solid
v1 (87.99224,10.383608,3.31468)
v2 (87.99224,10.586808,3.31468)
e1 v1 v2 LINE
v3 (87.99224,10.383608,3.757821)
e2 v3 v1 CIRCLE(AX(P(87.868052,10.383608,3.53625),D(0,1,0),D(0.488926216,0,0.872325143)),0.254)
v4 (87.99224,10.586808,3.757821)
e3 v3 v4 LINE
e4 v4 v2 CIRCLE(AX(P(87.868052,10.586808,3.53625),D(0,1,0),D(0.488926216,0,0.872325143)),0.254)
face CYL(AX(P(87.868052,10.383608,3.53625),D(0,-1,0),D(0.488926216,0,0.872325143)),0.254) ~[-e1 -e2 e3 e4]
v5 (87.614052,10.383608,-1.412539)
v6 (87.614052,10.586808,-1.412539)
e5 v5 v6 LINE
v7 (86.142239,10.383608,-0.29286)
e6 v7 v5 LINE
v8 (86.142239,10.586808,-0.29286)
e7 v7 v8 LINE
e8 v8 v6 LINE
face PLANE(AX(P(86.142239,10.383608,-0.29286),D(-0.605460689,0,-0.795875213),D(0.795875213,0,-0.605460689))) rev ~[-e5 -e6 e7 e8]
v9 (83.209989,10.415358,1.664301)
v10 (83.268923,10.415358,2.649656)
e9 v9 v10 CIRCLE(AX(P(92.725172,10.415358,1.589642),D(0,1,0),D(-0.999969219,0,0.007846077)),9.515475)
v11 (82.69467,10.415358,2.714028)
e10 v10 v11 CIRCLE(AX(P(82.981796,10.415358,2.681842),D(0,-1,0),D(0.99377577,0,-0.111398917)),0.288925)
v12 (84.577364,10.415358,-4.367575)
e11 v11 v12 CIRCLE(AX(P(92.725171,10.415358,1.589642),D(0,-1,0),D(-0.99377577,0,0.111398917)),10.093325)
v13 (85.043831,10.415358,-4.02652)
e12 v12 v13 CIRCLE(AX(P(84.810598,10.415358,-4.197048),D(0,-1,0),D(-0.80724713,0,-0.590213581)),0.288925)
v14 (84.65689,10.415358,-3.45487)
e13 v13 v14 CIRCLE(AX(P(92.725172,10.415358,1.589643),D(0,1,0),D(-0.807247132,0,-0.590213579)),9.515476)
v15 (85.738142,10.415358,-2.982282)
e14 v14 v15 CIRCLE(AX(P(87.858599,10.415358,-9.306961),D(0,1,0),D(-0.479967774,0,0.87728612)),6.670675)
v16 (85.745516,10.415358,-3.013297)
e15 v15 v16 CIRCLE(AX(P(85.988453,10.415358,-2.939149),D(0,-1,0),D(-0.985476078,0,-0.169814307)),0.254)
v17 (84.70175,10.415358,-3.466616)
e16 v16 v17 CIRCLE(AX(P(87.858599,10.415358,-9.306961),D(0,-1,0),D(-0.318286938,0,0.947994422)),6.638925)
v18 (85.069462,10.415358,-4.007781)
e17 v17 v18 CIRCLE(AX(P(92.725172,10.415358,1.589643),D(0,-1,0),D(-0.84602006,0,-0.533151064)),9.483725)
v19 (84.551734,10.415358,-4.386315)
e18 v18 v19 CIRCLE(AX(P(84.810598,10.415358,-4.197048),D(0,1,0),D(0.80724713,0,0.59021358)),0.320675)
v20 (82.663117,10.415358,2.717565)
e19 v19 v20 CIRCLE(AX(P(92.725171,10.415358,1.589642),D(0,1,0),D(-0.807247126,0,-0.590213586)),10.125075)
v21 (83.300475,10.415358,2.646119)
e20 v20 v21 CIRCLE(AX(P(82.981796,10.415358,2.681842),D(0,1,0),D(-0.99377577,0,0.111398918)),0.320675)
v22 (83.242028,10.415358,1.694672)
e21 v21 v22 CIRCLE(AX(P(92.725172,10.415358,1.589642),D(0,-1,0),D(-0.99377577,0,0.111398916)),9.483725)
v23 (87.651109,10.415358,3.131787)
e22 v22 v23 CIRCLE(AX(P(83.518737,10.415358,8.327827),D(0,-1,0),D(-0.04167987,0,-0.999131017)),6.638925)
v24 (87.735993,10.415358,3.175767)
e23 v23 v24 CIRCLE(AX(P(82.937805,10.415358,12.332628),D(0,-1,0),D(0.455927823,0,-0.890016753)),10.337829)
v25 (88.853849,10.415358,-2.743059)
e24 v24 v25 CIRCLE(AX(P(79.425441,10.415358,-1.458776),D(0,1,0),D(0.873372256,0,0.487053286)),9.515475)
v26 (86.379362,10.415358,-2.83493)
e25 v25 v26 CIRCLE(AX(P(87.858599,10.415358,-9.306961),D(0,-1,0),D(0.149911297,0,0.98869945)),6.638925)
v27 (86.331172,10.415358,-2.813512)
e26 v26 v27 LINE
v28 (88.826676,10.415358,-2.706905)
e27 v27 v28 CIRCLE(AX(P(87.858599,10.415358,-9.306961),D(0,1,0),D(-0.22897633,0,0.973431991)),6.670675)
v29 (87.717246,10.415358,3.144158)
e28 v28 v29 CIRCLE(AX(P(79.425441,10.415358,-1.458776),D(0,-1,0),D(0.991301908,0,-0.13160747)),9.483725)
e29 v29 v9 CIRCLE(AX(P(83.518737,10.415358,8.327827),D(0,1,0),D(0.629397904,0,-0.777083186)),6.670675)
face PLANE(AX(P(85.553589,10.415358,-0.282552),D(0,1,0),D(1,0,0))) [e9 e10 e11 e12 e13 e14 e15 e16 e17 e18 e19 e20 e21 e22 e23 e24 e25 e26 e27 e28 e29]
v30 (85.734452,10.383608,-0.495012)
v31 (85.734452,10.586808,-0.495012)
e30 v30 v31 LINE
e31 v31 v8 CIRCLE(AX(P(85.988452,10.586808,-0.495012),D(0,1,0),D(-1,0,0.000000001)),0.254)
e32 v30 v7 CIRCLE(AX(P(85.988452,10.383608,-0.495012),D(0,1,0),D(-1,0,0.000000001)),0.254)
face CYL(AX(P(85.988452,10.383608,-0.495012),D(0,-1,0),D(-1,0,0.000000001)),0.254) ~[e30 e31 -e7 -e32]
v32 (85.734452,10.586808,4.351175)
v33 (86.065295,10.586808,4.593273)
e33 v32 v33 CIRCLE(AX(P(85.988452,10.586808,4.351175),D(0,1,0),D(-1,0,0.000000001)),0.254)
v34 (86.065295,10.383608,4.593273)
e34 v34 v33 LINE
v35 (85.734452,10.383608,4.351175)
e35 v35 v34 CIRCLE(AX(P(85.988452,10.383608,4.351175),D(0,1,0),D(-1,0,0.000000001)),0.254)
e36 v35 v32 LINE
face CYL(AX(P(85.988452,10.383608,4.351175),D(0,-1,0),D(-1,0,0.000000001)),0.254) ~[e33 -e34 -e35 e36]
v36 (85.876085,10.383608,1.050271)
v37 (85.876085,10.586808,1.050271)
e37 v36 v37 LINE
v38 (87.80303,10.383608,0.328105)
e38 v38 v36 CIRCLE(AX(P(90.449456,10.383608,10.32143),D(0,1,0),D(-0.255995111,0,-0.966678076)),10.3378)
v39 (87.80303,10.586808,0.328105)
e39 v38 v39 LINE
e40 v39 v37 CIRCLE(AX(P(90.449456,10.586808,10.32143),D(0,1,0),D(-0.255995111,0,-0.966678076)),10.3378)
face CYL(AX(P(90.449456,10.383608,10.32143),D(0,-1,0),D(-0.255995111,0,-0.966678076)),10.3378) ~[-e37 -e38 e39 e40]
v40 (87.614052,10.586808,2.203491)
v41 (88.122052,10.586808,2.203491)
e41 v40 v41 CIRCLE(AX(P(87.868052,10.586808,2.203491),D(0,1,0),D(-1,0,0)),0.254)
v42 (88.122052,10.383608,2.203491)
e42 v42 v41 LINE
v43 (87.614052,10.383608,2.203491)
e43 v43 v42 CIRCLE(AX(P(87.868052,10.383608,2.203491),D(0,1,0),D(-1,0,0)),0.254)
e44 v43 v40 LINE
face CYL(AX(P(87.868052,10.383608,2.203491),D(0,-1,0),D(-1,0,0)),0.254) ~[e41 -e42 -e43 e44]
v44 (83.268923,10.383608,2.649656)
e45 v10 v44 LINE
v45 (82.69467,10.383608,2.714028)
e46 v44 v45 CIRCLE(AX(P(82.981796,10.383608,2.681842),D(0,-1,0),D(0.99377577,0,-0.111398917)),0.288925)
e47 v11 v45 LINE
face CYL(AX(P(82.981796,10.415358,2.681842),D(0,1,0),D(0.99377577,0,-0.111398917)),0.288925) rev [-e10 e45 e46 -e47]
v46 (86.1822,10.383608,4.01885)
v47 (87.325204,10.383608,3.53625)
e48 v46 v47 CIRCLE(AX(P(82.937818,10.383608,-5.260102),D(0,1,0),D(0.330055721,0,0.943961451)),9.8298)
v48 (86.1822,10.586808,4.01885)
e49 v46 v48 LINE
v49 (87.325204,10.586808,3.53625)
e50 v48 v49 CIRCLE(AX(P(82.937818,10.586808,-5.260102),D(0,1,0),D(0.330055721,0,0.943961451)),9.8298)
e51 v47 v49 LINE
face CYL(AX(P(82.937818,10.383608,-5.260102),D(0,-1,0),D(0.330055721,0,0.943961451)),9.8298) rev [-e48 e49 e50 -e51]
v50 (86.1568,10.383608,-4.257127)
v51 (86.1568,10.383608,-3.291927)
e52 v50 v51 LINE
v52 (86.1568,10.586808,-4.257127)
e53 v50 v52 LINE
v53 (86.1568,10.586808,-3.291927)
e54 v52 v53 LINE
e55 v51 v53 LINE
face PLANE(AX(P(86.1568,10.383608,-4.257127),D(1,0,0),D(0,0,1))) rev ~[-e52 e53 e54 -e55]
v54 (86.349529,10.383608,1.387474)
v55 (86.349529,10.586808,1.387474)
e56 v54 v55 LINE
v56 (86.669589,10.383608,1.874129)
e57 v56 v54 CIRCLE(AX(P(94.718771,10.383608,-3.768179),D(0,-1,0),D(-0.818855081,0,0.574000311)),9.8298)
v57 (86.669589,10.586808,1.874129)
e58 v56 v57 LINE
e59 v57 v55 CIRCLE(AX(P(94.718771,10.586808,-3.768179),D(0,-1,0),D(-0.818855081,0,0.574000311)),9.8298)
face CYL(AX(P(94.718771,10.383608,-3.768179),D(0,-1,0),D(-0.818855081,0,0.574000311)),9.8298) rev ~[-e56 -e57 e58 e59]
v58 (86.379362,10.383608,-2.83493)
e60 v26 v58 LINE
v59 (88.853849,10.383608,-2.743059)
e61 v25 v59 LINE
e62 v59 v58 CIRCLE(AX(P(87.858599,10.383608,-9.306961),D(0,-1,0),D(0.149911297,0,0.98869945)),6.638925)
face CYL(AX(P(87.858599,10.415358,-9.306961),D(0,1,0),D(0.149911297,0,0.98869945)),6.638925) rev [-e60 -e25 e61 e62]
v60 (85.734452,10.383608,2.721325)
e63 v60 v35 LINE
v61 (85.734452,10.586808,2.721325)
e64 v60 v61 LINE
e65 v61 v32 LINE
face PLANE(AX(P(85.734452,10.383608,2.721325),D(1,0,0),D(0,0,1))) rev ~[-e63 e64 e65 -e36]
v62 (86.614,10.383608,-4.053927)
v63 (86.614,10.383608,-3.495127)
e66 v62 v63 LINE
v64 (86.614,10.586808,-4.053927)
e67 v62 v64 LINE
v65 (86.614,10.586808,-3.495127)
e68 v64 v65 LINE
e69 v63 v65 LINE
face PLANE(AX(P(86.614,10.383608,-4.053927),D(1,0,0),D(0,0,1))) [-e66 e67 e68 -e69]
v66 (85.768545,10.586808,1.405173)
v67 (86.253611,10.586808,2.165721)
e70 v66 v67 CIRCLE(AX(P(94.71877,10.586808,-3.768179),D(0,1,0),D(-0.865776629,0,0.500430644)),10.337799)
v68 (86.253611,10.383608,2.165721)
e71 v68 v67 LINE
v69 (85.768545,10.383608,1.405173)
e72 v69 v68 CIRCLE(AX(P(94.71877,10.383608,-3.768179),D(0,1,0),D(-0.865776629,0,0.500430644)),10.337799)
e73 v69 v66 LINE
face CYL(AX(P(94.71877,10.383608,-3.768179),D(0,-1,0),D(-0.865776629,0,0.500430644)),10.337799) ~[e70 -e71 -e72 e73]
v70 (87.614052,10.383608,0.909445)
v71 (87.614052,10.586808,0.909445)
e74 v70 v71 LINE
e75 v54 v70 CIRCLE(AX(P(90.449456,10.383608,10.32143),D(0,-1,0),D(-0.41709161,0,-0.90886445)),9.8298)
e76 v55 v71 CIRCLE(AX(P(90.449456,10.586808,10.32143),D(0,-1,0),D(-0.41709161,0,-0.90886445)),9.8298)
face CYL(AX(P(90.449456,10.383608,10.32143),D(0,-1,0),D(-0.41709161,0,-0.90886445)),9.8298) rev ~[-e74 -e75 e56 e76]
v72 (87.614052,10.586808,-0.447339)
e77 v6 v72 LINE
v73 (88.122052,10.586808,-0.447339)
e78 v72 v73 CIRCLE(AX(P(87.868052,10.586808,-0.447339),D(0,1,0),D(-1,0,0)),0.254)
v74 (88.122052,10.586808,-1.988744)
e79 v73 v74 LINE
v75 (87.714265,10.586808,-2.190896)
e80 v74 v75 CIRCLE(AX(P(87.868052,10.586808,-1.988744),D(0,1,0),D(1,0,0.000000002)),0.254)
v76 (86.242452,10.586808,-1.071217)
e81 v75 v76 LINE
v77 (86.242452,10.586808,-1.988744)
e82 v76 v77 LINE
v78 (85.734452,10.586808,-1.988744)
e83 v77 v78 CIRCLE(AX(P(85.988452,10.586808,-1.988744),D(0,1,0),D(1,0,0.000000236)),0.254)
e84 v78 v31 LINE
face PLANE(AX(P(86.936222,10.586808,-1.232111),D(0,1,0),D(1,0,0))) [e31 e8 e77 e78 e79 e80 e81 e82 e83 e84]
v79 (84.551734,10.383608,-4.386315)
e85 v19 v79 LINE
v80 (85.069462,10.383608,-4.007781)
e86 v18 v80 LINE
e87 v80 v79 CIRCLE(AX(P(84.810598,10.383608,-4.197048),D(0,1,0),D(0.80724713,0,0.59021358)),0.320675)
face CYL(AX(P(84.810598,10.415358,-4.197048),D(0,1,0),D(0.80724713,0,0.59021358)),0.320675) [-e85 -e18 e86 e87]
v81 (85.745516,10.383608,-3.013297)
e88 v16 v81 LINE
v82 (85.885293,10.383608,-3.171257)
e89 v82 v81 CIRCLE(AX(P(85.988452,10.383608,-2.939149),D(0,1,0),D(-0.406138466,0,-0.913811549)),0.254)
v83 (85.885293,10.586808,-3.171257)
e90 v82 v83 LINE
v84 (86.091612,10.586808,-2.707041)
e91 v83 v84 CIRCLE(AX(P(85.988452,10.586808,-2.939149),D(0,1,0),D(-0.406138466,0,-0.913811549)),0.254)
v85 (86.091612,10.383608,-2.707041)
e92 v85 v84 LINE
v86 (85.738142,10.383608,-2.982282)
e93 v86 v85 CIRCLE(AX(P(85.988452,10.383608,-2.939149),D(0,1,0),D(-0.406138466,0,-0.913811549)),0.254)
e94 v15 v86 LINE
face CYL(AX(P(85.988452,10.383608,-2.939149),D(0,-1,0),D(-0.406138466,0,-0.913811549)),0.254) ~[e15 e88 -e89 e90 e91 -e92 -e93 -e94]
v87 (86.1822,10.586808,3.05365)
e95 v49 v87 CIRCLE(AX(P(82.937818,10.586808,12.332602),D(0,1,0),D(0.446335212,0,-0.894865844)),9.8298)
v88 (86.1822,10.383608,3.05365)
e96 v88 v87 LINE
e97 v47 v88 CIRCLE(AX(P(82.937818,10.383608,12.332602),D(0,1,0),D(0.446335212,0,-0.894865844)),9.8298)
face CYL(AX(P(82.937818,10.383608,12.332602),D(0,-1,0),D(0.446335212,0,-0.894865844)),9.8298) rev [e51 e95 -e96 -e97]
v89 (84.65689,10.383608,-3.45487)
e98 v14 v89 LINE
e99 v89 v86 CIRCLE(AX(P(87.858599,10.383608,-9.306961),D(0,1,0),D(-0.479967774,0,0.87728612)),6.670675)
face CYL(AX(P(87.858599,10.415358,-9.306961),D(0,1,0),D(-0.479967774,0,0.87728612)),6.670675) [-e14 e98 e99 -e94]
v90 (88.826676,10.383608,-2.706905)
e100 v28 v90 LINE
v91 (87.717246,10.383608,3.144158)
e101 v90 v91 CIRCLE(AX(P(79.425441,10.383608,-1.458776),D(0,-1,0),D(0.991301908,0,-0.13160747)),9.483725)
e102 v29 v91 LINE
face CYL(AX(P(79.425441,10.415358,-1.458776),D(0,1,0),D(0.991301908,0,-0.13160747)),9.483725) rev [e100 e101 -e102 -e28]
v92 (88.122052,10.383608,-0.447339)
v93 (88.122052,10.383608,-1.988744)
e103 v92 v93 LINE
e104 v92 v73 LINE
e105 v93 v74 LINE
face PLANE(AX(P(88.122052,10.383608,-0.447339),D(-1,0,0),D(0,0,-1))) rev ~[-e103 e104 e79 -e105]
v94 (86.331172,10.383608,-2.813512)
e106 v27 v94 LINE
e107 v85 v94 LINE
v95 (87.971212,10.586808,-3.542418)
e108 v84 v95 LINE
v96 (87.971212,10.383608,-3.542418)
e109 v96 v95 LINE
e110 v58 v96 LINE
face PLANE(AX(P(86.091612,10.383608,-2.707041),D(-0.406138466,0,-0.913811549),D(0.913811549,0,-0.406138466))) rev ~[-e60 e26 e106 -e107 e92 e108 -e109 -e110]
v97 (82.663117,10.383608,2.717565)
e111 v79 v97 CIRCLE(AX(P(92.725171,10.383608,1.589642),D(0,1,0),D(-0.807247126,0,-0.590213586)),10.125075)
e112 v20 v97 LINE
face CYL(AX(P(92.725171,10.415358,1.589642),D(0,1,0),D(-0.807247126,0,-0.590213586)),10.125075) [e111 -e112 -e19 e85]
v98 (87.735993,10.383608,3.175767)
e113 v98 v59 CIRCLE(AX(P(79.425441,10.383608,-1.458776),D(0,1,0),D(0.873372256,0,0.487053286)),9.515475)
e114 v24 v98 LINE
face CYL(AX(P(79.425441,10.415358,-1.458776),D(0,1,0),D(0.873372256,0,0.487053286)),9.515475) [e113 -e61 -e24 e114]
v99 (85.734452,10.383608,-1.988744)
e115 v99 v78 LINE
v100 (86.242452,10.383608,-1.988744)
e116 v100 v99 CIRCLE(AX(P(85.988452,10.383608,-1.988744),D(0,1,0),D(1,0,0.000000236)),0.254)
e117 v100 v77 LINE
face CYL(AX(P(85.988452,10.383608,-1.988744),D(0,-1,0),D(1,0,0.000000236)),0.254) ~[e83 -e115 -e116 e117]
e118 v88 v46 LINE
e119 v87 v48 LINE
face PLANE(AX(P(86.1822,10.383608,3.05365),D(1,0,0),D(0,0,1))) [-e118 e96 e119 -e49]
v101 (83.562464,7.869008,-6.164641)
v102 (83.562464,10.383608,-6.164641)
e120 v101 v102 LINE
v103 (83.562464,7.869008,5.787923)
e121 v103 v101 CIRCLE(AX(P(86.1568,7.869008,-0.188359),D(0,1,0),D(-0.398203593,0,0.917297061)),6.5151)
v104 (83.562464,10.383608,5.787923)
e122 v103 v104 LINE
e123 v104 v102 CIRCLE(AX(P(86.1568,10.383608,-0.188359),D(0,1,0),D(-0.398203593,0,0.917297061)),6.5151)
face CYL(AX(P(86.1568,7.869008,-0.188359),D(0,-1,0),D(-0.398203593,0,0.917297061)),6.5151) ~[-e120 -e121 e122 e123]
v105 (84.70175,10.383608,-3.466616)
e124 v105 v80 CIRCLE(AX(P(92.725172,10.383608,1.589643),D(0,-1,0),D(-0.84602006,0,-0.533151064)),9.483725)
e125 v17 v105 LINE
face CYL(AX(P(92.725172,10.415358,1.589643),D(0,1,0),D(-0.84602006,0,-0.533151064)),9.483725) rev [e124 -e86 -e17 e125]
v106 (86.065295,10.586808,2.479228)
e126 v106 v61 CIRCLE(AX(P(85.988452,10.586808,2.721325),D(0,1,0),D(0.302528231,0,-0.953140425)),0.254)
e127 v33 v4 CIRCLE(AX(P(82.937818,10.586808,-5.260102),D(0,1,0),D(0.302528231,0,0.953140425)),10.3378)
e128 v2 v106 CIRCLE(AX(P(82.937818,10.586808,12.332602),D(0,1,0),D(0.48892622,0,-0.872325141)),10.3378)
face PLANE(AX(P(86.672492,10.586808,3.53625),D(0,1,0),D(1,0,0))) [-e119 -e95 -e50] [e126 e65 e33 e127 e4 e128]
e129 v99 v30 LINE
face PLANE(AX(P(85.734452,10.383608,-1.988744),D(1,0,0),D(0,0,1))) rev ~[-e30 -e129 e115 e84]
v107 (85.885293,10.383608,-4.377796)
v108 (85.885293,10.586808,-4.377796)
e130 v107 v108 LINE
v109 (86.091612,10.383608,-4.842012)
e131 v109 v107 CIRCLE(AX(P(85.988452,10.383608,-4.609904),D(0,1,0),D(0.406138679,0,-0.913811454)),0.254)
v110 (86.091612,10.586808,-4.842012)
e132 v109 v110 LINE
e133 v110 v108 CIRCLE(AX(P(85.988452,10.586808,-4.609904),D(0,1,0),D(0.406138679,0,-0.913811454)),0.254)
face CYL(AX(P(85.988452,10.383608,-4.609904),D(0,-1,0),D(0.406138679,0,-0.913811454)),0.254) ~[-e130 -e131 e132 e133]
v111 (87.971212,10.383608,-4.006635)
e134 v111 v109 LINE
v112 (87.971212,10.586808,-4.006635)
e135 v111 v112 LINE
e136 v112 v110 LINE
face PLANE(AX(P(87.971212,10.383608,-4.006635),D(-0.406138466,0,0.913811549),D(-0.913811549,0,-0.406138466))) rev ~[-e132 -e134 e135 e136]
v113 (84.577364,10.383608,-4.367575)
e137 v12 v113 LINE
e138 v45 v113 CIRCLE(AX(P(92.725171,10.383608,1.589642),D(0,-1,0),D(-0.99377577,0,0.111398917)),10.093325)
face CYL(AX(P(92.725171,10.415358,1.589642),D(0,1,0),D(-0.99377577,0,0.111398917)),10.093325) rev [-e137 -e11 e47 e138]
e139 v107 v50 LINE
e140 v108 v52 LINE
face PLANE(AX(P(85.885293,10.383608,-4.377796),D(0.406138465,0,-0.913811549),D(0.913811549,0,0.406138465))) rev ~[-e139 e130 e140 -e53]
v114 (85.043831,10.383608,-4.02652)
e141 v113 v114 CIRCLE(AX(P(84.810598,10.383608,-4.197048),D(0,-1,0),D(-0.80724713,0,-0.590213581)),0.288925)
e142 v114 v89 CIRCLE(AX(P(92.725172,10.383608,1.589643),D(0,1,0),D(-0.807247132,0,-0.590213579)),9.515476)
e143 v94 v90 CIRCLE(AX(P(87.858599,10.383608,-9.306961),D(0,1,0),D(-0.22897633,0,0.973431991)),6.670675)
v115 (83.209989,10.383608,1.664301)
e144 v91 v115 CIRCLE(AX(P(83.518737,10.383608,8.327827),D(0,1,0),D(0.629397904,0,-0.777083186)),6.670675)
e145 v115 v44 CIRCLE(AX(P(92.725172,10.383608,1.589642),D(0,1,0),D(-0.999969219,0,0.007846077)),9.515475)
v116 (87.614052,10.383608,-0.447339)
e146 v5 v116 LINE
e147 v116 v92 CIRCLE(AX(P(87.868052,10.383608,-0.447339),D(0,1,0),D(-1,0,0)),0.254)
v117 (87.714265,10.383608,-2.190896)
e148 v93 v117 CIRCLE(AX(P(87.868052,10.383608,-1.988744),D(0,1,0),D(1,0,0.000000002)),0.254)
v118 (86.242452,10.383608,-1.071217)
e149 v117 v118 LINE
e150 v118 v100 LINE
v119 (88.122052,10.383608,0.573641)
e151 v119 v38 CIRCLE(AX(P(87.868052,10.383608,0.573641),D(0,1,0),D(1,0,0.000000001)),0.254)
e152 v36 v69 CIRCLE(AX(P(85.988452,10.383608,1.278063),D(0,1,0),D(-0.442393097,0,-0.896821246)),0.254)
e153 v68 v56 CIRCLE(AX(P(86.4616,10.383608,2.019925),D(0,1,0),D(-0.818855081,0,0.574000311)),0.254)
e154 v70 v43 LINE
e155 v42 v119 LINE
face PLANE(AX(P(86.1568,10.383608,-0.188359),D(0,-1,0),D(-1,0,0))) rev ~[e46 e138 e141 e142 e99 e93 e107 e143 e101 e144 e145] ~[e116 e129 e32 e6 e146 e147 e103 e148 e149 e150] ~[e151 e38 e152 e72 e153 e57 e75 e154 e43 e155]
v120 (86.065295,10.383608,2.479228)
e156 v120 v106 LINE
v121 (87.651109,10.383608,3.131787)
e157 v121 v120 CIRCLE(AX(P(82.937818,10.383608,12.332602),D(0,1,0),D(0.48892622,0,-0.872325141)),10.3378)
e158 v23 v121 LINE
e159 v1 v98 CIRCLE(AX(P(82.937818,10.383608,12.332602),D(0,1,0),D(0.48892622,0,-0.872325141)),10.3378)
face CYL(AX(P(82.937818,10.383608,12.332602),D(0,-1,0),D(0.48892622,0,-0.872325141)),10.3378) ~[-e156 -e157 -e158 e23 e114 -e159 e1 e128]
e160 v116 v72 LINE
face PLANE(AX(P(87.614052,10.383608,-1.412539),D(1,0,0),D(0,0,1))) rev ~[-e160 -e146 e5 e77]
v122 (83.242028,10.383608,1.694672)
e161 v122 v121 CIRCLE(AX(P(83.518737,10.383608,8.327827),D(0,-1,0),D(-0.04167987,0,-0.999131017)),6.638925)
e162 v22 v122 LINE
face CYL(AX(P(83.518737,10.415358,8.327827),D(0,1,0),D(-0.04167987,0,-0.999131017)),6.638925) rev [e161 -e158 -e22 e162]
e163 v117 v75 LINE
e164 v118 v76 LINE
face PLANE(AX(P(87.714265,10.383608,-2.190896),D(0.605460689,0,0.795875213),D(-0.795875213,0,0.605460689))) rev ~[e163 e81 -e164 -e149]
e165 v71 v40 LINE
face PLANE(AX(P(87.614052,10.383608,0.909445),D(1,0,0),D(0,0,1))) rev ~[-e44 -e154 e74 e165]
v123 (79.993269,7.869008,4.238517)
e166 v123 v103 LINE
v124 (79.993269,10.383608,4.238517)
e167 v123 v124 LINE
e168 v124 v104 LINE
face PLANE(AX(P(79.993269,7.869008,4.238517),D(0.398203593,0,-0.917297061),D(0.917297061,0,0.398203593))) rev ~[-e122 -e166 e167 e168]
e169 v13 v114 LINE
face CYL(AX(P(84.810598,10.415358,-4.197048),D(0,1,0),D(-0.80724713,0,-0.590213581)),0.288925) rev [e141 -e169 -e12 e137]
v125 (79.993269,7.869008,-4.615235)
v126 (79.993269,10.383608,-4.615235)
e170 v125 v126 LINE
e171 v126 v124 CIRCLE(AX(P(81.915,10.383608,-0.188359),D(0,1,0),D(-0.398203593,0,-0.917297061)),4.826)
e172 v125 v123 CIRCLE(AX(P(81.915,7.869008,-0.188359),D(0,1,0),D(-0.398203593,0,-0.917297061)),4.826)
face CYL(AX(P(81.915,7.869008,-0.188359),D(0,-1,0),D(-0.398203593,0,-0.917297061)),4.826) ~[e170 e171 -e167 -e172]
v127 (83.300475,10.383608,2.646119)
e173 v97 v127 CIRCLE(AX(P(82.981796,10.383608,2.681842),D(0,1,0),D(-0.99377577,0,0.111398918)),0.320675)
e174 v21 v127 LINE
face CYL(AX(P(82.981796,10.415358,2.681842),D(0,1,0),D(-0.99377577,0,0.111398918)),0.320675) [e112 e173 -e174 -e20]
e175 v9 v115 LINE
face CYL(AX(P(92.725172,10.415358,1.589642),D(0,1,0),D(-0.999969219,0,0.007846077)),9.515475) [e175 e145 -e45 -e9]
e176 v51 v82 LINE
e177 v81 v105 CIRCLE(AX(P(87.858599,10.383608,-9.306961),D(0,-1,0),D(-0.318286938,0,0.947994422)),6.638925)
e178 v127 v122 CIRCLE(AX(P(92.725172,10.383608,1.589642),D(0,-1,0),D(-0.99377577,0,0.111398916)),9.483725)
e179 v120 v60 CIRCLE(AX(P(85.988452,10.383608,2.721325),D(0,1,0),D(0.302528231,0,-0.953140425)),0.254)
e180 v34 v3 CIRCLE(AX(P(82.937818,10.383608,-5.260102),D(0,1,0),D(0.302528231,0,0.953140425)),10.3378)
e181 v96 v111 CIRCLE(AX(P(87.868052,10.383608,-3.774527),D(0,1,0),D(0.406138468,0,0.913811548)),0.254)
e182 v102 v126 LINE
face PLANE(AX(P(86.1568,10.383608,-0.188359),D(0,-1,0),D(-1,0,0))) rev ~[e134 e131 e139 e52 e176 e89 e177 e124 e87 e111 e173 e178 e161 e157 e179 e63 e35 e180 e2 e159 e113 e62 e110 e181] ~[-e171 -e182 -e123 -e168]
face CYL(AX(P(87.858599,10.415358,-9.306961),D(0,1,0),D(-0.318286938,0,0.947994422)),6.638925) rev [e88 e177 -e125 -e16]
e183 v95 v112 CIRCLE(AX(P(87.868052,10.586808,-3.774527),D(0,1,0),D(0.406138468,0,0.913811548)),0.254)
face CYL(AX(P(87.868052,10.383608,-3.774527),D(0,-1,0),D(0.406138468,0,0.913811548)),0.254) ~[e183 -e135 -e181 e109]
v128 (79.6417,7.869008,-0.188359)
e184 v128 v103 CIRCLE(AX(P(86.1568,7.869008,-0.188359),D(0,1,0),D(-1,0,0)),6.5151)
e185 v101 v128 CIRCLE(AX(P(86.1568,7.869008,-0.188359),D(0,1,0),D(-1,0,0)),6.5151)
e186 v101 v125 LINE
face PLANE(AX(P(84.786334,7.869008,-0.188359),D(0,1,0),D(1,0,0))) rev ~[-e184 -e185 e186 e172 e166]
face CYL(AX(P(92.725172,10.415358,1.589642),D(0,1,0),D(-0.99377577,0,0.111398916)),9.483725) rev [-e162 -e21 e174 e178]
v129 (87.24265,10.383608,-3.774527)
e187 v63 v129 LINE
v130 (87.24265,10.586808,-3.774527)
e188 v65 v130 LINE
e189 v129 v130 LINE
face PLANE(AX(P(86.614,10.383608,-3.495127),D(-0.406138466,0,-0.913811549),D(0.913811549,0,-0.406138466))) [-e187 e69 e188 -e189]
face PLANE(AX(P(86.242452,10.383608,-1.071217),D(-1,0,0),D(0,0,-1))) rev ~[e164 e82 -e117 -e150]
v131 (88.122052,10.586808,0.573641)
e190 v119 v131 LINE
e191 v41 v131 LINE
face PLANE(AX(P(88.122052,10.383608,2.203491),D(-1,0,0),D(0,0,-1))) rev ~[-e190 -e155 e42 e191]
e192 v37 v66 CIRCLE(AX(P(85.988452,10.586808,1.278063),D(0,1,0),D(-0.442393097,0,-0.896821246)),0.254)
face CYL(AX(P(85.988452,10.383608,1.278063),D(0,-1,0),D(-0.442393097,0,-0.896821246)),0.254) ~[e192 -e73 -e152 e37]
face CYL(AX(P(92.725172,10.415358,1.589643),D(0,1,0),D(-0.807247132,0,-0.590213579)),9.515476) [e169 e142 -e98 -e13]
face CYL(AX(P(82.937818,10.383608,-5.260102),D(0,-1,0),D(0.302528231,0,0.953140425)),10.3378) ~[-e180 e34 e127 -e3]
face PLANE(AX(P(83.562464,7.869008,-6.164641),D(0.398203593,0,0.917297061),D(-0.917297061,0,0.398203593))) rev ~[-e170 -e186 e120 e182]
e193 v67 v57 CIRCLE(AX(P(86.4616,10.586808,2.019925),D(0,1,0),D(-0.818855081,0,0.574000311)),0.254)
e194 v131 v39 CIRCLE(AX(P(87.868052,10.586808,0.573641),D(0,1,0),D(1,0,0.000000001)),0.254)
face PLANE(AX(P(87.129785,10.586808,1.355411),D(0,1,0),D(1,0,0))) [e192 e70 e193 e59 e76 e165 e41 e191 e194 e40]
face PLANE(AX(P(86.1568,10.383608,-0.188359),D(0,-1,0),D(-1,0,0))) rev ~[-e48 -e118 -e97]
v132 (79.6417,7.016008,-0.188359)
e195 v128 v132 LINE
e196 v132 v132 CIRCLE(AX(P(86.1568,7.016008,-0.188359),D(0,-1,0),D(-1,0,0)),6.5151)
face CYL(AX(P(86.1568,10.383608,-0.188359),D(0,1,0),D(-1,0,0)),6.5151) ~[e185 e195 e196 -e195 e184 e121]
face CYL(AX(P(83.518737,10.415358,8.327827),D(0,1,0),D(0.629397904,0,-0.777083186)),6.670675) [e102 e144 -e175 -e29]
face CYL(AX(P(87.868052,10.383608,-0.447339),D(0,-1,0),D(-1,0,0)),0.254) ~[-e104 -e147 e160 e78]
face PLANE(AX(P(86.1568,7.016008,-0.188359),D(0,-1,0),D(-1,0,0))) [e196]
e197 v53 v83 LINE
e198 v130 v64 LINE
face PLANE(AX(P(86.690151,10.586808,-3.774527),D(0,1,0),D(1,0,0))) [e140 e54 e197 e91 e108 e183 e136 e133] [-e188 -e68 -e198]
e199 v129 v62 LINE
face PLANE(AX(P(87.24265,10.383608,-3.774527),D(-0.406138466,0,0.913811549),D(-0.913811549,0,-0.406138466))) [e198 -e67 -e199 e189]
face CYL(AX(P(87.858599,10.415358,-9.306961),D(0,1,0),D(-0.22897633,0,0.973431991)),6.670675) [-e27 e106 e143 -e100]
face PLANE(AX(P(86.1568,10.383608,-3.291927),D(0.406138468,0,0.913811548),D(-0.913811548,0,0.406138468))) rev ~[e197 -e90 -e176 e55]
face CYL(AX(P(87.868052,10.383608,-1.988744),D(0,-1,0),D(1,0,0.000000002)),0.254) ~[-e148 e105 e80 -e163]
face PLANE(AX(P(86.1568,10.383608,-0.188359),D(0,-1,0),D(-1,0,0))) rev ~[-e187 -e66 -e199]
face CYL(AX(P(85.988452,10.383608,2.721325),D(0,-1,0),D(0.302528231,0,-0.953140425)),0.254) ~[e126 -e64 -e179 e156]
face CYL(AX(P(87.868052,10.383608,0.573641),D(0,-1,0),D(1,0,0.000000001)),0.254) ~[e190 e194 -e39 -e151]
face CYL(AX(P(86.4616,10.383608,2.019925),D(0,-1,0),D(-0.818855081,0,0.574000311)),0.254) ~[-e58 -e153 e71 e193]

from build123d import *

# Parameters (mm, degrees)
SKETCH1_R           = 6.5151
BOSS_EXTRUDE1_DEPTH = 3.3676
BOSS_EXTRUDE2_DEPTH = 2.5146
BOSS_EXTRUDE3_DEPTH = 0.03175
BOSS_EXTRUDE4_DEPTH = 0.2032
BOSS_EXTRUDE5_DEPTH = 0.2032
BOSS_EXTRUDE6_DEPTH = 0.2032
BOSS_EXTRUDE7_DEPTH = 0.2032


with BuildPart() as part:
    # Sketch1 → Boss-Extrude1 (new body)
    with BuildSketch(Plane(origin=(0, 10.383607632, 0), x_dir=(-1, 0, 0), z_dir=(0, -1, 0))):
        with Locations((-86.1568, 0.188358884)):
            Circle(SKETCH1_R)
    extrude(amount=BOSS_EXTRUDE1_DEPTH)

    # Sketch2 → Boss-Extrude2 (add)
    with BuildSketch(Plane(origin=(0, 7.869007632, 0), x_dir=(1, 0, 0), z_dir=(0, 1, 0))):
        with BuildLine():
            Line((83.562463772, 6.164640968), (79.993269461, 4.615234502))
            ThreePointArc((79.993269461, 4.615234502), (77.089, 0.188358884), (79.993269461, -4.238516734))
            Line((79.993269461, -4.238516734), (83.562463772, -5.7879232))
            ThreePointArc((83.562463772, -5.7879232), (92.6719, 0.188358884), (83.562463772, 6.164640968))
        make_face()
    extrude(amount=BOSS_EXTRUDE2_DEPTH)

    # Sketch3 → Boss-Extrude3 (add)
    with BuildSketch(Plane(origin=(0, 10.415357632, 0), x_dir=(1, 0, 0), z_dir=(0, 1, 0))):
        with BuildLine():
            Line((86.379362148, 2.834929745), (86.331172499, 2.813512123))
            ThreePointArc((86.331172499, 2.813512123), (87.57388973, 2.642364143), (88.826675515, 2.706905023))
            ThreePointArc((88.826675515, 2.706905023), (88.743147222, -0.307968876), (87.717246323, -3.144158035))
            ThreePointArc((87.717246323, -3.144158035), (85.599615489, -1.990016157), (83.209989222, -1.664301363))
            ThreePointArc((83.209989222, -1.664301363), (83.226670097, -2.157743319), (83.268922831, -2.649655834))
            ThreePointArc((83.268922831, -2.649655834), (83.013982099, -2.96896843), (82.694669503, -2.714027698))
            ThreePointArc((82.694669503, -2.714027698), (82.970684724, 1.003656964), (84.577363687, 4.367575269))
            ThreePointArc((84.577363687, 4.367575269), (84.981125023, 4.430281687), (85.043831441, 4.026520351))
            ThreePointArc((85.043831441, 4.026520351), (84.845175329, 3.744205128), (84.656890151, 3.45486998))
            ThreePointArc((84.656890151, 3.45486998), (85.187045427, 3.19462014), (85.738141542, 2.982281574))
            ThreePointArc((85.738141542, 2.982281574), (85.741341744, 2.997904944), (85.745516089, 3.013296689))
            ThreePointArc((85.745516089, 3.013296689), (85.213902251, 3.217551458), (84.701749715, 3.466615834))
            ThreePointArc((84.701749715, 3.466615834), (84.880937437, 3.740370401), (85.069461538, 4.00778107))
            ThreePointArc((85.069461538, 4.00778107), (84.999864331, 4.455911764), (84.551733629, 4.386314602))
            ThreePointArc((84.551733629, 4.386314602), (82.940000597, 1.01181459), (82.663117122, -2.717564614))
            ThreePointArc((82.663117122, -2.717564614), (83.017519015, -3.000520811), (83.300475212, -2.646118918))
            ThreePointArc((83.300475212, -2.646118918), (83.259289868, -2.171130031), (83.242027928, -1.694671533))
            ThreePointArc((83.242027928, -1.694671533), (85.576128395, -2.015738406), (87.651108795, -3.131787359))
            ThreePointArc((87.651108795, -3.131787359), (87.69360158, -3.153679255), (87.735992687, -3.175767397))
            ThreePointArc((87.735992687, -3.175767397), (88.775617442, -0.307140697), (88.853849034, 2.743059067))
            ThreePointArc((88.853849034, 2.743059067), (87.612284437, 2.672606475), (86.379362148, 2.834929745))
        make_face()
    extrude(amount=-BOSS_EXTRUDE3_DEPTH)

    # Sketch4 → Boss-Extrude4 (add)
    with BuildSketch(Plane(origin=(0, 10.383607632, 0), x_dir=(1, 0, 0), z_dir=(0, 1, 0))):
        with BuildLine():
            Line((87.971211641, 4.006634675), (86.091611641, 4.842012453))
            ThreePointArc((86.091611641, 4.842012453), (85.756344283, 4.713063514), (85.8852933, 4.377796186))
            Line((85.8852933, 4.377796186), (86.1568, 4.257126542))
            Line((86.1568, 4.257126542), (86.1568, 3.291926542))
            Line((86.1568, 3.291926542), (85.8852933, 3.171256897))
            ThreePointArc((85.8852933, 3.171256897), (85.756344337, 2.835989594), (86.091611641, 2.707040631))
            Line((86.091611641, 2.707040631), (87.971211641, 3.542418409))
            ThreePointArc((87.971211641, 3.542418409), (88.12205247, 3.774526542), (87.971211641, 4.006634675))
        make_face()
        Polygon((87.24265, 3.774526542), (86.614, 4.053926542), (86.614, 3.495126542), align=None, mode=Mode.SUBTRACT)
    extrude(amount=BOSS_EXTRUDE4_DEPTH)

    # Sketch5 → Boss-Extrude5 (add)
    with BuildSketch(Plane(origin=(0, 10.383607632, 0), x_dir=(1, 0, 0), z_dir=(0, 1, 0))):
        with BuildLine():
            Line((88.12205247, 0.447338975), (88.12205247, 1.988743646))
            ThreePointArc((88.12205247, 1.988743646), (87.980866694, 2.216315505), (87.714265455, 2.19089595))
            Line((87.714265455, 2.19089595), (86.24245247, 1.071216772))
            Line((86.24245247, 1.071216772), (86.24245247, 1.988743646))
            ThreePointArc((86.24245247, 1.988743646), (85.98845247, 2.242743706), (85.73445247, 1.988743646))
            Line((85.73445247, 1.988743646), (85.73445247, 0.495012101))
            ThreePointArc((85.73445247, 0.495012101), (85.875638247, 0.267440242), (86.142239485, 0.292859797))
            Line((86.142239485, 0.292859797), (87.61405247, 1.412538975))
            Line((87.61405247, 1.412538975), (87.61405247, 0.447338975))
            ThreePointArc((87.61405247, 0.447338975), (87.86805247, 0.193338975), (88.12205247, 0.447338975))
        make_face()
    extrude(amount=BOSS_EXTRUDE5_DEPTH)

    # Sketch6 → Boss-Extrude6 (add)
    with BuildSketch(Plane(origin=(0, 10.383607632, 0), x_dir=(1, 0, 0), z_dir=(0, 1, 0))):
        with BuildLine():
            Line((88.12205247, -2.20349139), (88.12205247, -0.573641116))
            ThreePointArc((88.12205247, -0.573641116), (88.022972158, -0.372355522), (87.803029713, -0.328104884))
            ThreePointArc((87.803029713, -0.328104884), (86.82154331, -0.641121728), (85.876084624, -1.050270813))
            ThreePointArc((85.876084624, -1.050270813), (85.745367006, -1.204405708), (85.76854522, -1.405172817))
            ThreePointArc((85.76854522, -1.405172817), (86.002778478, -1.790740386), (86.25361081, -2.165721333))
            ThreePointArc((86.25361081, -2.165721333), (86.607396093, -2.227914435), (86.669589172, -1.874129148))
            ThreePointArc((86.669589172, -1.874129148), (86.505953581, -1.633172635), (86.349528836, -1.387473738))
            ThreePointArc((86.349528836, -1.387473738), (86.973563185, -1.12669528), (87.61405247, -0.909444852))
            Line((87.61405247, -0.909444852), (87.61405247, -2.20349139))
            ThreePointArc((87.61405247, -2.20349139), (87.86805247, -2.45749139), (88.12205247, -2.20349139))
        make_face()
    extrude(amount=BOSS_EXTRUDE6_DEPTH)

    # Sketch7 → Boss-Extrude7 (add)
    with BuildSketch(Plane(origin=(0, 10.383607632, 0), x_dir=(1, 0, 0), z_dir=(0, 1, 0))):
        with BuildLine():
            Line((85.73445247, -2.721325206), (85.73445247, -4.351175481))
            ThreePointArc((85.73445247, -4.351175481), (85.838455656, -4.55615586), (86.065294641, -4.593273149))
            ThreePointArc((86.065294641, -4.593273149), (87.050038854, -4.224609495), (87.992239729, -3.75782093))
            ThreePointArc((87.992239729, -3.75782093), (88.12205247, -3.536250363), (87.992239763, -3.314679777))
            ThreePointArc((87.992239763, -3.314679777), (87.050038872, -2.8478912), (86.065294641, -2.479227539))
            ThreePointArc((86.065294641, -2.479227539), (85.838455656, -2.516344828), (85.73445247, -2.721325206))
        make_face()
        with BuildLine():
            Line((86.1822, -3.053650344), (86.1822, -4.018850344))
            ThreePointArc((86.1822, -4.018850344), (86.761323847, -3.795601976), (87.325204148, -3.536250344))
            ThreePointArc((87.325204148, -3.536250344), (86.761323847, -3.276898711), (86.1822, -3.053650344))
        make_face(mode=Mode.SUBTRACT)
    extrude(amount=BOSS_EXTRUDE7_DEPTH)


solid = part.part
